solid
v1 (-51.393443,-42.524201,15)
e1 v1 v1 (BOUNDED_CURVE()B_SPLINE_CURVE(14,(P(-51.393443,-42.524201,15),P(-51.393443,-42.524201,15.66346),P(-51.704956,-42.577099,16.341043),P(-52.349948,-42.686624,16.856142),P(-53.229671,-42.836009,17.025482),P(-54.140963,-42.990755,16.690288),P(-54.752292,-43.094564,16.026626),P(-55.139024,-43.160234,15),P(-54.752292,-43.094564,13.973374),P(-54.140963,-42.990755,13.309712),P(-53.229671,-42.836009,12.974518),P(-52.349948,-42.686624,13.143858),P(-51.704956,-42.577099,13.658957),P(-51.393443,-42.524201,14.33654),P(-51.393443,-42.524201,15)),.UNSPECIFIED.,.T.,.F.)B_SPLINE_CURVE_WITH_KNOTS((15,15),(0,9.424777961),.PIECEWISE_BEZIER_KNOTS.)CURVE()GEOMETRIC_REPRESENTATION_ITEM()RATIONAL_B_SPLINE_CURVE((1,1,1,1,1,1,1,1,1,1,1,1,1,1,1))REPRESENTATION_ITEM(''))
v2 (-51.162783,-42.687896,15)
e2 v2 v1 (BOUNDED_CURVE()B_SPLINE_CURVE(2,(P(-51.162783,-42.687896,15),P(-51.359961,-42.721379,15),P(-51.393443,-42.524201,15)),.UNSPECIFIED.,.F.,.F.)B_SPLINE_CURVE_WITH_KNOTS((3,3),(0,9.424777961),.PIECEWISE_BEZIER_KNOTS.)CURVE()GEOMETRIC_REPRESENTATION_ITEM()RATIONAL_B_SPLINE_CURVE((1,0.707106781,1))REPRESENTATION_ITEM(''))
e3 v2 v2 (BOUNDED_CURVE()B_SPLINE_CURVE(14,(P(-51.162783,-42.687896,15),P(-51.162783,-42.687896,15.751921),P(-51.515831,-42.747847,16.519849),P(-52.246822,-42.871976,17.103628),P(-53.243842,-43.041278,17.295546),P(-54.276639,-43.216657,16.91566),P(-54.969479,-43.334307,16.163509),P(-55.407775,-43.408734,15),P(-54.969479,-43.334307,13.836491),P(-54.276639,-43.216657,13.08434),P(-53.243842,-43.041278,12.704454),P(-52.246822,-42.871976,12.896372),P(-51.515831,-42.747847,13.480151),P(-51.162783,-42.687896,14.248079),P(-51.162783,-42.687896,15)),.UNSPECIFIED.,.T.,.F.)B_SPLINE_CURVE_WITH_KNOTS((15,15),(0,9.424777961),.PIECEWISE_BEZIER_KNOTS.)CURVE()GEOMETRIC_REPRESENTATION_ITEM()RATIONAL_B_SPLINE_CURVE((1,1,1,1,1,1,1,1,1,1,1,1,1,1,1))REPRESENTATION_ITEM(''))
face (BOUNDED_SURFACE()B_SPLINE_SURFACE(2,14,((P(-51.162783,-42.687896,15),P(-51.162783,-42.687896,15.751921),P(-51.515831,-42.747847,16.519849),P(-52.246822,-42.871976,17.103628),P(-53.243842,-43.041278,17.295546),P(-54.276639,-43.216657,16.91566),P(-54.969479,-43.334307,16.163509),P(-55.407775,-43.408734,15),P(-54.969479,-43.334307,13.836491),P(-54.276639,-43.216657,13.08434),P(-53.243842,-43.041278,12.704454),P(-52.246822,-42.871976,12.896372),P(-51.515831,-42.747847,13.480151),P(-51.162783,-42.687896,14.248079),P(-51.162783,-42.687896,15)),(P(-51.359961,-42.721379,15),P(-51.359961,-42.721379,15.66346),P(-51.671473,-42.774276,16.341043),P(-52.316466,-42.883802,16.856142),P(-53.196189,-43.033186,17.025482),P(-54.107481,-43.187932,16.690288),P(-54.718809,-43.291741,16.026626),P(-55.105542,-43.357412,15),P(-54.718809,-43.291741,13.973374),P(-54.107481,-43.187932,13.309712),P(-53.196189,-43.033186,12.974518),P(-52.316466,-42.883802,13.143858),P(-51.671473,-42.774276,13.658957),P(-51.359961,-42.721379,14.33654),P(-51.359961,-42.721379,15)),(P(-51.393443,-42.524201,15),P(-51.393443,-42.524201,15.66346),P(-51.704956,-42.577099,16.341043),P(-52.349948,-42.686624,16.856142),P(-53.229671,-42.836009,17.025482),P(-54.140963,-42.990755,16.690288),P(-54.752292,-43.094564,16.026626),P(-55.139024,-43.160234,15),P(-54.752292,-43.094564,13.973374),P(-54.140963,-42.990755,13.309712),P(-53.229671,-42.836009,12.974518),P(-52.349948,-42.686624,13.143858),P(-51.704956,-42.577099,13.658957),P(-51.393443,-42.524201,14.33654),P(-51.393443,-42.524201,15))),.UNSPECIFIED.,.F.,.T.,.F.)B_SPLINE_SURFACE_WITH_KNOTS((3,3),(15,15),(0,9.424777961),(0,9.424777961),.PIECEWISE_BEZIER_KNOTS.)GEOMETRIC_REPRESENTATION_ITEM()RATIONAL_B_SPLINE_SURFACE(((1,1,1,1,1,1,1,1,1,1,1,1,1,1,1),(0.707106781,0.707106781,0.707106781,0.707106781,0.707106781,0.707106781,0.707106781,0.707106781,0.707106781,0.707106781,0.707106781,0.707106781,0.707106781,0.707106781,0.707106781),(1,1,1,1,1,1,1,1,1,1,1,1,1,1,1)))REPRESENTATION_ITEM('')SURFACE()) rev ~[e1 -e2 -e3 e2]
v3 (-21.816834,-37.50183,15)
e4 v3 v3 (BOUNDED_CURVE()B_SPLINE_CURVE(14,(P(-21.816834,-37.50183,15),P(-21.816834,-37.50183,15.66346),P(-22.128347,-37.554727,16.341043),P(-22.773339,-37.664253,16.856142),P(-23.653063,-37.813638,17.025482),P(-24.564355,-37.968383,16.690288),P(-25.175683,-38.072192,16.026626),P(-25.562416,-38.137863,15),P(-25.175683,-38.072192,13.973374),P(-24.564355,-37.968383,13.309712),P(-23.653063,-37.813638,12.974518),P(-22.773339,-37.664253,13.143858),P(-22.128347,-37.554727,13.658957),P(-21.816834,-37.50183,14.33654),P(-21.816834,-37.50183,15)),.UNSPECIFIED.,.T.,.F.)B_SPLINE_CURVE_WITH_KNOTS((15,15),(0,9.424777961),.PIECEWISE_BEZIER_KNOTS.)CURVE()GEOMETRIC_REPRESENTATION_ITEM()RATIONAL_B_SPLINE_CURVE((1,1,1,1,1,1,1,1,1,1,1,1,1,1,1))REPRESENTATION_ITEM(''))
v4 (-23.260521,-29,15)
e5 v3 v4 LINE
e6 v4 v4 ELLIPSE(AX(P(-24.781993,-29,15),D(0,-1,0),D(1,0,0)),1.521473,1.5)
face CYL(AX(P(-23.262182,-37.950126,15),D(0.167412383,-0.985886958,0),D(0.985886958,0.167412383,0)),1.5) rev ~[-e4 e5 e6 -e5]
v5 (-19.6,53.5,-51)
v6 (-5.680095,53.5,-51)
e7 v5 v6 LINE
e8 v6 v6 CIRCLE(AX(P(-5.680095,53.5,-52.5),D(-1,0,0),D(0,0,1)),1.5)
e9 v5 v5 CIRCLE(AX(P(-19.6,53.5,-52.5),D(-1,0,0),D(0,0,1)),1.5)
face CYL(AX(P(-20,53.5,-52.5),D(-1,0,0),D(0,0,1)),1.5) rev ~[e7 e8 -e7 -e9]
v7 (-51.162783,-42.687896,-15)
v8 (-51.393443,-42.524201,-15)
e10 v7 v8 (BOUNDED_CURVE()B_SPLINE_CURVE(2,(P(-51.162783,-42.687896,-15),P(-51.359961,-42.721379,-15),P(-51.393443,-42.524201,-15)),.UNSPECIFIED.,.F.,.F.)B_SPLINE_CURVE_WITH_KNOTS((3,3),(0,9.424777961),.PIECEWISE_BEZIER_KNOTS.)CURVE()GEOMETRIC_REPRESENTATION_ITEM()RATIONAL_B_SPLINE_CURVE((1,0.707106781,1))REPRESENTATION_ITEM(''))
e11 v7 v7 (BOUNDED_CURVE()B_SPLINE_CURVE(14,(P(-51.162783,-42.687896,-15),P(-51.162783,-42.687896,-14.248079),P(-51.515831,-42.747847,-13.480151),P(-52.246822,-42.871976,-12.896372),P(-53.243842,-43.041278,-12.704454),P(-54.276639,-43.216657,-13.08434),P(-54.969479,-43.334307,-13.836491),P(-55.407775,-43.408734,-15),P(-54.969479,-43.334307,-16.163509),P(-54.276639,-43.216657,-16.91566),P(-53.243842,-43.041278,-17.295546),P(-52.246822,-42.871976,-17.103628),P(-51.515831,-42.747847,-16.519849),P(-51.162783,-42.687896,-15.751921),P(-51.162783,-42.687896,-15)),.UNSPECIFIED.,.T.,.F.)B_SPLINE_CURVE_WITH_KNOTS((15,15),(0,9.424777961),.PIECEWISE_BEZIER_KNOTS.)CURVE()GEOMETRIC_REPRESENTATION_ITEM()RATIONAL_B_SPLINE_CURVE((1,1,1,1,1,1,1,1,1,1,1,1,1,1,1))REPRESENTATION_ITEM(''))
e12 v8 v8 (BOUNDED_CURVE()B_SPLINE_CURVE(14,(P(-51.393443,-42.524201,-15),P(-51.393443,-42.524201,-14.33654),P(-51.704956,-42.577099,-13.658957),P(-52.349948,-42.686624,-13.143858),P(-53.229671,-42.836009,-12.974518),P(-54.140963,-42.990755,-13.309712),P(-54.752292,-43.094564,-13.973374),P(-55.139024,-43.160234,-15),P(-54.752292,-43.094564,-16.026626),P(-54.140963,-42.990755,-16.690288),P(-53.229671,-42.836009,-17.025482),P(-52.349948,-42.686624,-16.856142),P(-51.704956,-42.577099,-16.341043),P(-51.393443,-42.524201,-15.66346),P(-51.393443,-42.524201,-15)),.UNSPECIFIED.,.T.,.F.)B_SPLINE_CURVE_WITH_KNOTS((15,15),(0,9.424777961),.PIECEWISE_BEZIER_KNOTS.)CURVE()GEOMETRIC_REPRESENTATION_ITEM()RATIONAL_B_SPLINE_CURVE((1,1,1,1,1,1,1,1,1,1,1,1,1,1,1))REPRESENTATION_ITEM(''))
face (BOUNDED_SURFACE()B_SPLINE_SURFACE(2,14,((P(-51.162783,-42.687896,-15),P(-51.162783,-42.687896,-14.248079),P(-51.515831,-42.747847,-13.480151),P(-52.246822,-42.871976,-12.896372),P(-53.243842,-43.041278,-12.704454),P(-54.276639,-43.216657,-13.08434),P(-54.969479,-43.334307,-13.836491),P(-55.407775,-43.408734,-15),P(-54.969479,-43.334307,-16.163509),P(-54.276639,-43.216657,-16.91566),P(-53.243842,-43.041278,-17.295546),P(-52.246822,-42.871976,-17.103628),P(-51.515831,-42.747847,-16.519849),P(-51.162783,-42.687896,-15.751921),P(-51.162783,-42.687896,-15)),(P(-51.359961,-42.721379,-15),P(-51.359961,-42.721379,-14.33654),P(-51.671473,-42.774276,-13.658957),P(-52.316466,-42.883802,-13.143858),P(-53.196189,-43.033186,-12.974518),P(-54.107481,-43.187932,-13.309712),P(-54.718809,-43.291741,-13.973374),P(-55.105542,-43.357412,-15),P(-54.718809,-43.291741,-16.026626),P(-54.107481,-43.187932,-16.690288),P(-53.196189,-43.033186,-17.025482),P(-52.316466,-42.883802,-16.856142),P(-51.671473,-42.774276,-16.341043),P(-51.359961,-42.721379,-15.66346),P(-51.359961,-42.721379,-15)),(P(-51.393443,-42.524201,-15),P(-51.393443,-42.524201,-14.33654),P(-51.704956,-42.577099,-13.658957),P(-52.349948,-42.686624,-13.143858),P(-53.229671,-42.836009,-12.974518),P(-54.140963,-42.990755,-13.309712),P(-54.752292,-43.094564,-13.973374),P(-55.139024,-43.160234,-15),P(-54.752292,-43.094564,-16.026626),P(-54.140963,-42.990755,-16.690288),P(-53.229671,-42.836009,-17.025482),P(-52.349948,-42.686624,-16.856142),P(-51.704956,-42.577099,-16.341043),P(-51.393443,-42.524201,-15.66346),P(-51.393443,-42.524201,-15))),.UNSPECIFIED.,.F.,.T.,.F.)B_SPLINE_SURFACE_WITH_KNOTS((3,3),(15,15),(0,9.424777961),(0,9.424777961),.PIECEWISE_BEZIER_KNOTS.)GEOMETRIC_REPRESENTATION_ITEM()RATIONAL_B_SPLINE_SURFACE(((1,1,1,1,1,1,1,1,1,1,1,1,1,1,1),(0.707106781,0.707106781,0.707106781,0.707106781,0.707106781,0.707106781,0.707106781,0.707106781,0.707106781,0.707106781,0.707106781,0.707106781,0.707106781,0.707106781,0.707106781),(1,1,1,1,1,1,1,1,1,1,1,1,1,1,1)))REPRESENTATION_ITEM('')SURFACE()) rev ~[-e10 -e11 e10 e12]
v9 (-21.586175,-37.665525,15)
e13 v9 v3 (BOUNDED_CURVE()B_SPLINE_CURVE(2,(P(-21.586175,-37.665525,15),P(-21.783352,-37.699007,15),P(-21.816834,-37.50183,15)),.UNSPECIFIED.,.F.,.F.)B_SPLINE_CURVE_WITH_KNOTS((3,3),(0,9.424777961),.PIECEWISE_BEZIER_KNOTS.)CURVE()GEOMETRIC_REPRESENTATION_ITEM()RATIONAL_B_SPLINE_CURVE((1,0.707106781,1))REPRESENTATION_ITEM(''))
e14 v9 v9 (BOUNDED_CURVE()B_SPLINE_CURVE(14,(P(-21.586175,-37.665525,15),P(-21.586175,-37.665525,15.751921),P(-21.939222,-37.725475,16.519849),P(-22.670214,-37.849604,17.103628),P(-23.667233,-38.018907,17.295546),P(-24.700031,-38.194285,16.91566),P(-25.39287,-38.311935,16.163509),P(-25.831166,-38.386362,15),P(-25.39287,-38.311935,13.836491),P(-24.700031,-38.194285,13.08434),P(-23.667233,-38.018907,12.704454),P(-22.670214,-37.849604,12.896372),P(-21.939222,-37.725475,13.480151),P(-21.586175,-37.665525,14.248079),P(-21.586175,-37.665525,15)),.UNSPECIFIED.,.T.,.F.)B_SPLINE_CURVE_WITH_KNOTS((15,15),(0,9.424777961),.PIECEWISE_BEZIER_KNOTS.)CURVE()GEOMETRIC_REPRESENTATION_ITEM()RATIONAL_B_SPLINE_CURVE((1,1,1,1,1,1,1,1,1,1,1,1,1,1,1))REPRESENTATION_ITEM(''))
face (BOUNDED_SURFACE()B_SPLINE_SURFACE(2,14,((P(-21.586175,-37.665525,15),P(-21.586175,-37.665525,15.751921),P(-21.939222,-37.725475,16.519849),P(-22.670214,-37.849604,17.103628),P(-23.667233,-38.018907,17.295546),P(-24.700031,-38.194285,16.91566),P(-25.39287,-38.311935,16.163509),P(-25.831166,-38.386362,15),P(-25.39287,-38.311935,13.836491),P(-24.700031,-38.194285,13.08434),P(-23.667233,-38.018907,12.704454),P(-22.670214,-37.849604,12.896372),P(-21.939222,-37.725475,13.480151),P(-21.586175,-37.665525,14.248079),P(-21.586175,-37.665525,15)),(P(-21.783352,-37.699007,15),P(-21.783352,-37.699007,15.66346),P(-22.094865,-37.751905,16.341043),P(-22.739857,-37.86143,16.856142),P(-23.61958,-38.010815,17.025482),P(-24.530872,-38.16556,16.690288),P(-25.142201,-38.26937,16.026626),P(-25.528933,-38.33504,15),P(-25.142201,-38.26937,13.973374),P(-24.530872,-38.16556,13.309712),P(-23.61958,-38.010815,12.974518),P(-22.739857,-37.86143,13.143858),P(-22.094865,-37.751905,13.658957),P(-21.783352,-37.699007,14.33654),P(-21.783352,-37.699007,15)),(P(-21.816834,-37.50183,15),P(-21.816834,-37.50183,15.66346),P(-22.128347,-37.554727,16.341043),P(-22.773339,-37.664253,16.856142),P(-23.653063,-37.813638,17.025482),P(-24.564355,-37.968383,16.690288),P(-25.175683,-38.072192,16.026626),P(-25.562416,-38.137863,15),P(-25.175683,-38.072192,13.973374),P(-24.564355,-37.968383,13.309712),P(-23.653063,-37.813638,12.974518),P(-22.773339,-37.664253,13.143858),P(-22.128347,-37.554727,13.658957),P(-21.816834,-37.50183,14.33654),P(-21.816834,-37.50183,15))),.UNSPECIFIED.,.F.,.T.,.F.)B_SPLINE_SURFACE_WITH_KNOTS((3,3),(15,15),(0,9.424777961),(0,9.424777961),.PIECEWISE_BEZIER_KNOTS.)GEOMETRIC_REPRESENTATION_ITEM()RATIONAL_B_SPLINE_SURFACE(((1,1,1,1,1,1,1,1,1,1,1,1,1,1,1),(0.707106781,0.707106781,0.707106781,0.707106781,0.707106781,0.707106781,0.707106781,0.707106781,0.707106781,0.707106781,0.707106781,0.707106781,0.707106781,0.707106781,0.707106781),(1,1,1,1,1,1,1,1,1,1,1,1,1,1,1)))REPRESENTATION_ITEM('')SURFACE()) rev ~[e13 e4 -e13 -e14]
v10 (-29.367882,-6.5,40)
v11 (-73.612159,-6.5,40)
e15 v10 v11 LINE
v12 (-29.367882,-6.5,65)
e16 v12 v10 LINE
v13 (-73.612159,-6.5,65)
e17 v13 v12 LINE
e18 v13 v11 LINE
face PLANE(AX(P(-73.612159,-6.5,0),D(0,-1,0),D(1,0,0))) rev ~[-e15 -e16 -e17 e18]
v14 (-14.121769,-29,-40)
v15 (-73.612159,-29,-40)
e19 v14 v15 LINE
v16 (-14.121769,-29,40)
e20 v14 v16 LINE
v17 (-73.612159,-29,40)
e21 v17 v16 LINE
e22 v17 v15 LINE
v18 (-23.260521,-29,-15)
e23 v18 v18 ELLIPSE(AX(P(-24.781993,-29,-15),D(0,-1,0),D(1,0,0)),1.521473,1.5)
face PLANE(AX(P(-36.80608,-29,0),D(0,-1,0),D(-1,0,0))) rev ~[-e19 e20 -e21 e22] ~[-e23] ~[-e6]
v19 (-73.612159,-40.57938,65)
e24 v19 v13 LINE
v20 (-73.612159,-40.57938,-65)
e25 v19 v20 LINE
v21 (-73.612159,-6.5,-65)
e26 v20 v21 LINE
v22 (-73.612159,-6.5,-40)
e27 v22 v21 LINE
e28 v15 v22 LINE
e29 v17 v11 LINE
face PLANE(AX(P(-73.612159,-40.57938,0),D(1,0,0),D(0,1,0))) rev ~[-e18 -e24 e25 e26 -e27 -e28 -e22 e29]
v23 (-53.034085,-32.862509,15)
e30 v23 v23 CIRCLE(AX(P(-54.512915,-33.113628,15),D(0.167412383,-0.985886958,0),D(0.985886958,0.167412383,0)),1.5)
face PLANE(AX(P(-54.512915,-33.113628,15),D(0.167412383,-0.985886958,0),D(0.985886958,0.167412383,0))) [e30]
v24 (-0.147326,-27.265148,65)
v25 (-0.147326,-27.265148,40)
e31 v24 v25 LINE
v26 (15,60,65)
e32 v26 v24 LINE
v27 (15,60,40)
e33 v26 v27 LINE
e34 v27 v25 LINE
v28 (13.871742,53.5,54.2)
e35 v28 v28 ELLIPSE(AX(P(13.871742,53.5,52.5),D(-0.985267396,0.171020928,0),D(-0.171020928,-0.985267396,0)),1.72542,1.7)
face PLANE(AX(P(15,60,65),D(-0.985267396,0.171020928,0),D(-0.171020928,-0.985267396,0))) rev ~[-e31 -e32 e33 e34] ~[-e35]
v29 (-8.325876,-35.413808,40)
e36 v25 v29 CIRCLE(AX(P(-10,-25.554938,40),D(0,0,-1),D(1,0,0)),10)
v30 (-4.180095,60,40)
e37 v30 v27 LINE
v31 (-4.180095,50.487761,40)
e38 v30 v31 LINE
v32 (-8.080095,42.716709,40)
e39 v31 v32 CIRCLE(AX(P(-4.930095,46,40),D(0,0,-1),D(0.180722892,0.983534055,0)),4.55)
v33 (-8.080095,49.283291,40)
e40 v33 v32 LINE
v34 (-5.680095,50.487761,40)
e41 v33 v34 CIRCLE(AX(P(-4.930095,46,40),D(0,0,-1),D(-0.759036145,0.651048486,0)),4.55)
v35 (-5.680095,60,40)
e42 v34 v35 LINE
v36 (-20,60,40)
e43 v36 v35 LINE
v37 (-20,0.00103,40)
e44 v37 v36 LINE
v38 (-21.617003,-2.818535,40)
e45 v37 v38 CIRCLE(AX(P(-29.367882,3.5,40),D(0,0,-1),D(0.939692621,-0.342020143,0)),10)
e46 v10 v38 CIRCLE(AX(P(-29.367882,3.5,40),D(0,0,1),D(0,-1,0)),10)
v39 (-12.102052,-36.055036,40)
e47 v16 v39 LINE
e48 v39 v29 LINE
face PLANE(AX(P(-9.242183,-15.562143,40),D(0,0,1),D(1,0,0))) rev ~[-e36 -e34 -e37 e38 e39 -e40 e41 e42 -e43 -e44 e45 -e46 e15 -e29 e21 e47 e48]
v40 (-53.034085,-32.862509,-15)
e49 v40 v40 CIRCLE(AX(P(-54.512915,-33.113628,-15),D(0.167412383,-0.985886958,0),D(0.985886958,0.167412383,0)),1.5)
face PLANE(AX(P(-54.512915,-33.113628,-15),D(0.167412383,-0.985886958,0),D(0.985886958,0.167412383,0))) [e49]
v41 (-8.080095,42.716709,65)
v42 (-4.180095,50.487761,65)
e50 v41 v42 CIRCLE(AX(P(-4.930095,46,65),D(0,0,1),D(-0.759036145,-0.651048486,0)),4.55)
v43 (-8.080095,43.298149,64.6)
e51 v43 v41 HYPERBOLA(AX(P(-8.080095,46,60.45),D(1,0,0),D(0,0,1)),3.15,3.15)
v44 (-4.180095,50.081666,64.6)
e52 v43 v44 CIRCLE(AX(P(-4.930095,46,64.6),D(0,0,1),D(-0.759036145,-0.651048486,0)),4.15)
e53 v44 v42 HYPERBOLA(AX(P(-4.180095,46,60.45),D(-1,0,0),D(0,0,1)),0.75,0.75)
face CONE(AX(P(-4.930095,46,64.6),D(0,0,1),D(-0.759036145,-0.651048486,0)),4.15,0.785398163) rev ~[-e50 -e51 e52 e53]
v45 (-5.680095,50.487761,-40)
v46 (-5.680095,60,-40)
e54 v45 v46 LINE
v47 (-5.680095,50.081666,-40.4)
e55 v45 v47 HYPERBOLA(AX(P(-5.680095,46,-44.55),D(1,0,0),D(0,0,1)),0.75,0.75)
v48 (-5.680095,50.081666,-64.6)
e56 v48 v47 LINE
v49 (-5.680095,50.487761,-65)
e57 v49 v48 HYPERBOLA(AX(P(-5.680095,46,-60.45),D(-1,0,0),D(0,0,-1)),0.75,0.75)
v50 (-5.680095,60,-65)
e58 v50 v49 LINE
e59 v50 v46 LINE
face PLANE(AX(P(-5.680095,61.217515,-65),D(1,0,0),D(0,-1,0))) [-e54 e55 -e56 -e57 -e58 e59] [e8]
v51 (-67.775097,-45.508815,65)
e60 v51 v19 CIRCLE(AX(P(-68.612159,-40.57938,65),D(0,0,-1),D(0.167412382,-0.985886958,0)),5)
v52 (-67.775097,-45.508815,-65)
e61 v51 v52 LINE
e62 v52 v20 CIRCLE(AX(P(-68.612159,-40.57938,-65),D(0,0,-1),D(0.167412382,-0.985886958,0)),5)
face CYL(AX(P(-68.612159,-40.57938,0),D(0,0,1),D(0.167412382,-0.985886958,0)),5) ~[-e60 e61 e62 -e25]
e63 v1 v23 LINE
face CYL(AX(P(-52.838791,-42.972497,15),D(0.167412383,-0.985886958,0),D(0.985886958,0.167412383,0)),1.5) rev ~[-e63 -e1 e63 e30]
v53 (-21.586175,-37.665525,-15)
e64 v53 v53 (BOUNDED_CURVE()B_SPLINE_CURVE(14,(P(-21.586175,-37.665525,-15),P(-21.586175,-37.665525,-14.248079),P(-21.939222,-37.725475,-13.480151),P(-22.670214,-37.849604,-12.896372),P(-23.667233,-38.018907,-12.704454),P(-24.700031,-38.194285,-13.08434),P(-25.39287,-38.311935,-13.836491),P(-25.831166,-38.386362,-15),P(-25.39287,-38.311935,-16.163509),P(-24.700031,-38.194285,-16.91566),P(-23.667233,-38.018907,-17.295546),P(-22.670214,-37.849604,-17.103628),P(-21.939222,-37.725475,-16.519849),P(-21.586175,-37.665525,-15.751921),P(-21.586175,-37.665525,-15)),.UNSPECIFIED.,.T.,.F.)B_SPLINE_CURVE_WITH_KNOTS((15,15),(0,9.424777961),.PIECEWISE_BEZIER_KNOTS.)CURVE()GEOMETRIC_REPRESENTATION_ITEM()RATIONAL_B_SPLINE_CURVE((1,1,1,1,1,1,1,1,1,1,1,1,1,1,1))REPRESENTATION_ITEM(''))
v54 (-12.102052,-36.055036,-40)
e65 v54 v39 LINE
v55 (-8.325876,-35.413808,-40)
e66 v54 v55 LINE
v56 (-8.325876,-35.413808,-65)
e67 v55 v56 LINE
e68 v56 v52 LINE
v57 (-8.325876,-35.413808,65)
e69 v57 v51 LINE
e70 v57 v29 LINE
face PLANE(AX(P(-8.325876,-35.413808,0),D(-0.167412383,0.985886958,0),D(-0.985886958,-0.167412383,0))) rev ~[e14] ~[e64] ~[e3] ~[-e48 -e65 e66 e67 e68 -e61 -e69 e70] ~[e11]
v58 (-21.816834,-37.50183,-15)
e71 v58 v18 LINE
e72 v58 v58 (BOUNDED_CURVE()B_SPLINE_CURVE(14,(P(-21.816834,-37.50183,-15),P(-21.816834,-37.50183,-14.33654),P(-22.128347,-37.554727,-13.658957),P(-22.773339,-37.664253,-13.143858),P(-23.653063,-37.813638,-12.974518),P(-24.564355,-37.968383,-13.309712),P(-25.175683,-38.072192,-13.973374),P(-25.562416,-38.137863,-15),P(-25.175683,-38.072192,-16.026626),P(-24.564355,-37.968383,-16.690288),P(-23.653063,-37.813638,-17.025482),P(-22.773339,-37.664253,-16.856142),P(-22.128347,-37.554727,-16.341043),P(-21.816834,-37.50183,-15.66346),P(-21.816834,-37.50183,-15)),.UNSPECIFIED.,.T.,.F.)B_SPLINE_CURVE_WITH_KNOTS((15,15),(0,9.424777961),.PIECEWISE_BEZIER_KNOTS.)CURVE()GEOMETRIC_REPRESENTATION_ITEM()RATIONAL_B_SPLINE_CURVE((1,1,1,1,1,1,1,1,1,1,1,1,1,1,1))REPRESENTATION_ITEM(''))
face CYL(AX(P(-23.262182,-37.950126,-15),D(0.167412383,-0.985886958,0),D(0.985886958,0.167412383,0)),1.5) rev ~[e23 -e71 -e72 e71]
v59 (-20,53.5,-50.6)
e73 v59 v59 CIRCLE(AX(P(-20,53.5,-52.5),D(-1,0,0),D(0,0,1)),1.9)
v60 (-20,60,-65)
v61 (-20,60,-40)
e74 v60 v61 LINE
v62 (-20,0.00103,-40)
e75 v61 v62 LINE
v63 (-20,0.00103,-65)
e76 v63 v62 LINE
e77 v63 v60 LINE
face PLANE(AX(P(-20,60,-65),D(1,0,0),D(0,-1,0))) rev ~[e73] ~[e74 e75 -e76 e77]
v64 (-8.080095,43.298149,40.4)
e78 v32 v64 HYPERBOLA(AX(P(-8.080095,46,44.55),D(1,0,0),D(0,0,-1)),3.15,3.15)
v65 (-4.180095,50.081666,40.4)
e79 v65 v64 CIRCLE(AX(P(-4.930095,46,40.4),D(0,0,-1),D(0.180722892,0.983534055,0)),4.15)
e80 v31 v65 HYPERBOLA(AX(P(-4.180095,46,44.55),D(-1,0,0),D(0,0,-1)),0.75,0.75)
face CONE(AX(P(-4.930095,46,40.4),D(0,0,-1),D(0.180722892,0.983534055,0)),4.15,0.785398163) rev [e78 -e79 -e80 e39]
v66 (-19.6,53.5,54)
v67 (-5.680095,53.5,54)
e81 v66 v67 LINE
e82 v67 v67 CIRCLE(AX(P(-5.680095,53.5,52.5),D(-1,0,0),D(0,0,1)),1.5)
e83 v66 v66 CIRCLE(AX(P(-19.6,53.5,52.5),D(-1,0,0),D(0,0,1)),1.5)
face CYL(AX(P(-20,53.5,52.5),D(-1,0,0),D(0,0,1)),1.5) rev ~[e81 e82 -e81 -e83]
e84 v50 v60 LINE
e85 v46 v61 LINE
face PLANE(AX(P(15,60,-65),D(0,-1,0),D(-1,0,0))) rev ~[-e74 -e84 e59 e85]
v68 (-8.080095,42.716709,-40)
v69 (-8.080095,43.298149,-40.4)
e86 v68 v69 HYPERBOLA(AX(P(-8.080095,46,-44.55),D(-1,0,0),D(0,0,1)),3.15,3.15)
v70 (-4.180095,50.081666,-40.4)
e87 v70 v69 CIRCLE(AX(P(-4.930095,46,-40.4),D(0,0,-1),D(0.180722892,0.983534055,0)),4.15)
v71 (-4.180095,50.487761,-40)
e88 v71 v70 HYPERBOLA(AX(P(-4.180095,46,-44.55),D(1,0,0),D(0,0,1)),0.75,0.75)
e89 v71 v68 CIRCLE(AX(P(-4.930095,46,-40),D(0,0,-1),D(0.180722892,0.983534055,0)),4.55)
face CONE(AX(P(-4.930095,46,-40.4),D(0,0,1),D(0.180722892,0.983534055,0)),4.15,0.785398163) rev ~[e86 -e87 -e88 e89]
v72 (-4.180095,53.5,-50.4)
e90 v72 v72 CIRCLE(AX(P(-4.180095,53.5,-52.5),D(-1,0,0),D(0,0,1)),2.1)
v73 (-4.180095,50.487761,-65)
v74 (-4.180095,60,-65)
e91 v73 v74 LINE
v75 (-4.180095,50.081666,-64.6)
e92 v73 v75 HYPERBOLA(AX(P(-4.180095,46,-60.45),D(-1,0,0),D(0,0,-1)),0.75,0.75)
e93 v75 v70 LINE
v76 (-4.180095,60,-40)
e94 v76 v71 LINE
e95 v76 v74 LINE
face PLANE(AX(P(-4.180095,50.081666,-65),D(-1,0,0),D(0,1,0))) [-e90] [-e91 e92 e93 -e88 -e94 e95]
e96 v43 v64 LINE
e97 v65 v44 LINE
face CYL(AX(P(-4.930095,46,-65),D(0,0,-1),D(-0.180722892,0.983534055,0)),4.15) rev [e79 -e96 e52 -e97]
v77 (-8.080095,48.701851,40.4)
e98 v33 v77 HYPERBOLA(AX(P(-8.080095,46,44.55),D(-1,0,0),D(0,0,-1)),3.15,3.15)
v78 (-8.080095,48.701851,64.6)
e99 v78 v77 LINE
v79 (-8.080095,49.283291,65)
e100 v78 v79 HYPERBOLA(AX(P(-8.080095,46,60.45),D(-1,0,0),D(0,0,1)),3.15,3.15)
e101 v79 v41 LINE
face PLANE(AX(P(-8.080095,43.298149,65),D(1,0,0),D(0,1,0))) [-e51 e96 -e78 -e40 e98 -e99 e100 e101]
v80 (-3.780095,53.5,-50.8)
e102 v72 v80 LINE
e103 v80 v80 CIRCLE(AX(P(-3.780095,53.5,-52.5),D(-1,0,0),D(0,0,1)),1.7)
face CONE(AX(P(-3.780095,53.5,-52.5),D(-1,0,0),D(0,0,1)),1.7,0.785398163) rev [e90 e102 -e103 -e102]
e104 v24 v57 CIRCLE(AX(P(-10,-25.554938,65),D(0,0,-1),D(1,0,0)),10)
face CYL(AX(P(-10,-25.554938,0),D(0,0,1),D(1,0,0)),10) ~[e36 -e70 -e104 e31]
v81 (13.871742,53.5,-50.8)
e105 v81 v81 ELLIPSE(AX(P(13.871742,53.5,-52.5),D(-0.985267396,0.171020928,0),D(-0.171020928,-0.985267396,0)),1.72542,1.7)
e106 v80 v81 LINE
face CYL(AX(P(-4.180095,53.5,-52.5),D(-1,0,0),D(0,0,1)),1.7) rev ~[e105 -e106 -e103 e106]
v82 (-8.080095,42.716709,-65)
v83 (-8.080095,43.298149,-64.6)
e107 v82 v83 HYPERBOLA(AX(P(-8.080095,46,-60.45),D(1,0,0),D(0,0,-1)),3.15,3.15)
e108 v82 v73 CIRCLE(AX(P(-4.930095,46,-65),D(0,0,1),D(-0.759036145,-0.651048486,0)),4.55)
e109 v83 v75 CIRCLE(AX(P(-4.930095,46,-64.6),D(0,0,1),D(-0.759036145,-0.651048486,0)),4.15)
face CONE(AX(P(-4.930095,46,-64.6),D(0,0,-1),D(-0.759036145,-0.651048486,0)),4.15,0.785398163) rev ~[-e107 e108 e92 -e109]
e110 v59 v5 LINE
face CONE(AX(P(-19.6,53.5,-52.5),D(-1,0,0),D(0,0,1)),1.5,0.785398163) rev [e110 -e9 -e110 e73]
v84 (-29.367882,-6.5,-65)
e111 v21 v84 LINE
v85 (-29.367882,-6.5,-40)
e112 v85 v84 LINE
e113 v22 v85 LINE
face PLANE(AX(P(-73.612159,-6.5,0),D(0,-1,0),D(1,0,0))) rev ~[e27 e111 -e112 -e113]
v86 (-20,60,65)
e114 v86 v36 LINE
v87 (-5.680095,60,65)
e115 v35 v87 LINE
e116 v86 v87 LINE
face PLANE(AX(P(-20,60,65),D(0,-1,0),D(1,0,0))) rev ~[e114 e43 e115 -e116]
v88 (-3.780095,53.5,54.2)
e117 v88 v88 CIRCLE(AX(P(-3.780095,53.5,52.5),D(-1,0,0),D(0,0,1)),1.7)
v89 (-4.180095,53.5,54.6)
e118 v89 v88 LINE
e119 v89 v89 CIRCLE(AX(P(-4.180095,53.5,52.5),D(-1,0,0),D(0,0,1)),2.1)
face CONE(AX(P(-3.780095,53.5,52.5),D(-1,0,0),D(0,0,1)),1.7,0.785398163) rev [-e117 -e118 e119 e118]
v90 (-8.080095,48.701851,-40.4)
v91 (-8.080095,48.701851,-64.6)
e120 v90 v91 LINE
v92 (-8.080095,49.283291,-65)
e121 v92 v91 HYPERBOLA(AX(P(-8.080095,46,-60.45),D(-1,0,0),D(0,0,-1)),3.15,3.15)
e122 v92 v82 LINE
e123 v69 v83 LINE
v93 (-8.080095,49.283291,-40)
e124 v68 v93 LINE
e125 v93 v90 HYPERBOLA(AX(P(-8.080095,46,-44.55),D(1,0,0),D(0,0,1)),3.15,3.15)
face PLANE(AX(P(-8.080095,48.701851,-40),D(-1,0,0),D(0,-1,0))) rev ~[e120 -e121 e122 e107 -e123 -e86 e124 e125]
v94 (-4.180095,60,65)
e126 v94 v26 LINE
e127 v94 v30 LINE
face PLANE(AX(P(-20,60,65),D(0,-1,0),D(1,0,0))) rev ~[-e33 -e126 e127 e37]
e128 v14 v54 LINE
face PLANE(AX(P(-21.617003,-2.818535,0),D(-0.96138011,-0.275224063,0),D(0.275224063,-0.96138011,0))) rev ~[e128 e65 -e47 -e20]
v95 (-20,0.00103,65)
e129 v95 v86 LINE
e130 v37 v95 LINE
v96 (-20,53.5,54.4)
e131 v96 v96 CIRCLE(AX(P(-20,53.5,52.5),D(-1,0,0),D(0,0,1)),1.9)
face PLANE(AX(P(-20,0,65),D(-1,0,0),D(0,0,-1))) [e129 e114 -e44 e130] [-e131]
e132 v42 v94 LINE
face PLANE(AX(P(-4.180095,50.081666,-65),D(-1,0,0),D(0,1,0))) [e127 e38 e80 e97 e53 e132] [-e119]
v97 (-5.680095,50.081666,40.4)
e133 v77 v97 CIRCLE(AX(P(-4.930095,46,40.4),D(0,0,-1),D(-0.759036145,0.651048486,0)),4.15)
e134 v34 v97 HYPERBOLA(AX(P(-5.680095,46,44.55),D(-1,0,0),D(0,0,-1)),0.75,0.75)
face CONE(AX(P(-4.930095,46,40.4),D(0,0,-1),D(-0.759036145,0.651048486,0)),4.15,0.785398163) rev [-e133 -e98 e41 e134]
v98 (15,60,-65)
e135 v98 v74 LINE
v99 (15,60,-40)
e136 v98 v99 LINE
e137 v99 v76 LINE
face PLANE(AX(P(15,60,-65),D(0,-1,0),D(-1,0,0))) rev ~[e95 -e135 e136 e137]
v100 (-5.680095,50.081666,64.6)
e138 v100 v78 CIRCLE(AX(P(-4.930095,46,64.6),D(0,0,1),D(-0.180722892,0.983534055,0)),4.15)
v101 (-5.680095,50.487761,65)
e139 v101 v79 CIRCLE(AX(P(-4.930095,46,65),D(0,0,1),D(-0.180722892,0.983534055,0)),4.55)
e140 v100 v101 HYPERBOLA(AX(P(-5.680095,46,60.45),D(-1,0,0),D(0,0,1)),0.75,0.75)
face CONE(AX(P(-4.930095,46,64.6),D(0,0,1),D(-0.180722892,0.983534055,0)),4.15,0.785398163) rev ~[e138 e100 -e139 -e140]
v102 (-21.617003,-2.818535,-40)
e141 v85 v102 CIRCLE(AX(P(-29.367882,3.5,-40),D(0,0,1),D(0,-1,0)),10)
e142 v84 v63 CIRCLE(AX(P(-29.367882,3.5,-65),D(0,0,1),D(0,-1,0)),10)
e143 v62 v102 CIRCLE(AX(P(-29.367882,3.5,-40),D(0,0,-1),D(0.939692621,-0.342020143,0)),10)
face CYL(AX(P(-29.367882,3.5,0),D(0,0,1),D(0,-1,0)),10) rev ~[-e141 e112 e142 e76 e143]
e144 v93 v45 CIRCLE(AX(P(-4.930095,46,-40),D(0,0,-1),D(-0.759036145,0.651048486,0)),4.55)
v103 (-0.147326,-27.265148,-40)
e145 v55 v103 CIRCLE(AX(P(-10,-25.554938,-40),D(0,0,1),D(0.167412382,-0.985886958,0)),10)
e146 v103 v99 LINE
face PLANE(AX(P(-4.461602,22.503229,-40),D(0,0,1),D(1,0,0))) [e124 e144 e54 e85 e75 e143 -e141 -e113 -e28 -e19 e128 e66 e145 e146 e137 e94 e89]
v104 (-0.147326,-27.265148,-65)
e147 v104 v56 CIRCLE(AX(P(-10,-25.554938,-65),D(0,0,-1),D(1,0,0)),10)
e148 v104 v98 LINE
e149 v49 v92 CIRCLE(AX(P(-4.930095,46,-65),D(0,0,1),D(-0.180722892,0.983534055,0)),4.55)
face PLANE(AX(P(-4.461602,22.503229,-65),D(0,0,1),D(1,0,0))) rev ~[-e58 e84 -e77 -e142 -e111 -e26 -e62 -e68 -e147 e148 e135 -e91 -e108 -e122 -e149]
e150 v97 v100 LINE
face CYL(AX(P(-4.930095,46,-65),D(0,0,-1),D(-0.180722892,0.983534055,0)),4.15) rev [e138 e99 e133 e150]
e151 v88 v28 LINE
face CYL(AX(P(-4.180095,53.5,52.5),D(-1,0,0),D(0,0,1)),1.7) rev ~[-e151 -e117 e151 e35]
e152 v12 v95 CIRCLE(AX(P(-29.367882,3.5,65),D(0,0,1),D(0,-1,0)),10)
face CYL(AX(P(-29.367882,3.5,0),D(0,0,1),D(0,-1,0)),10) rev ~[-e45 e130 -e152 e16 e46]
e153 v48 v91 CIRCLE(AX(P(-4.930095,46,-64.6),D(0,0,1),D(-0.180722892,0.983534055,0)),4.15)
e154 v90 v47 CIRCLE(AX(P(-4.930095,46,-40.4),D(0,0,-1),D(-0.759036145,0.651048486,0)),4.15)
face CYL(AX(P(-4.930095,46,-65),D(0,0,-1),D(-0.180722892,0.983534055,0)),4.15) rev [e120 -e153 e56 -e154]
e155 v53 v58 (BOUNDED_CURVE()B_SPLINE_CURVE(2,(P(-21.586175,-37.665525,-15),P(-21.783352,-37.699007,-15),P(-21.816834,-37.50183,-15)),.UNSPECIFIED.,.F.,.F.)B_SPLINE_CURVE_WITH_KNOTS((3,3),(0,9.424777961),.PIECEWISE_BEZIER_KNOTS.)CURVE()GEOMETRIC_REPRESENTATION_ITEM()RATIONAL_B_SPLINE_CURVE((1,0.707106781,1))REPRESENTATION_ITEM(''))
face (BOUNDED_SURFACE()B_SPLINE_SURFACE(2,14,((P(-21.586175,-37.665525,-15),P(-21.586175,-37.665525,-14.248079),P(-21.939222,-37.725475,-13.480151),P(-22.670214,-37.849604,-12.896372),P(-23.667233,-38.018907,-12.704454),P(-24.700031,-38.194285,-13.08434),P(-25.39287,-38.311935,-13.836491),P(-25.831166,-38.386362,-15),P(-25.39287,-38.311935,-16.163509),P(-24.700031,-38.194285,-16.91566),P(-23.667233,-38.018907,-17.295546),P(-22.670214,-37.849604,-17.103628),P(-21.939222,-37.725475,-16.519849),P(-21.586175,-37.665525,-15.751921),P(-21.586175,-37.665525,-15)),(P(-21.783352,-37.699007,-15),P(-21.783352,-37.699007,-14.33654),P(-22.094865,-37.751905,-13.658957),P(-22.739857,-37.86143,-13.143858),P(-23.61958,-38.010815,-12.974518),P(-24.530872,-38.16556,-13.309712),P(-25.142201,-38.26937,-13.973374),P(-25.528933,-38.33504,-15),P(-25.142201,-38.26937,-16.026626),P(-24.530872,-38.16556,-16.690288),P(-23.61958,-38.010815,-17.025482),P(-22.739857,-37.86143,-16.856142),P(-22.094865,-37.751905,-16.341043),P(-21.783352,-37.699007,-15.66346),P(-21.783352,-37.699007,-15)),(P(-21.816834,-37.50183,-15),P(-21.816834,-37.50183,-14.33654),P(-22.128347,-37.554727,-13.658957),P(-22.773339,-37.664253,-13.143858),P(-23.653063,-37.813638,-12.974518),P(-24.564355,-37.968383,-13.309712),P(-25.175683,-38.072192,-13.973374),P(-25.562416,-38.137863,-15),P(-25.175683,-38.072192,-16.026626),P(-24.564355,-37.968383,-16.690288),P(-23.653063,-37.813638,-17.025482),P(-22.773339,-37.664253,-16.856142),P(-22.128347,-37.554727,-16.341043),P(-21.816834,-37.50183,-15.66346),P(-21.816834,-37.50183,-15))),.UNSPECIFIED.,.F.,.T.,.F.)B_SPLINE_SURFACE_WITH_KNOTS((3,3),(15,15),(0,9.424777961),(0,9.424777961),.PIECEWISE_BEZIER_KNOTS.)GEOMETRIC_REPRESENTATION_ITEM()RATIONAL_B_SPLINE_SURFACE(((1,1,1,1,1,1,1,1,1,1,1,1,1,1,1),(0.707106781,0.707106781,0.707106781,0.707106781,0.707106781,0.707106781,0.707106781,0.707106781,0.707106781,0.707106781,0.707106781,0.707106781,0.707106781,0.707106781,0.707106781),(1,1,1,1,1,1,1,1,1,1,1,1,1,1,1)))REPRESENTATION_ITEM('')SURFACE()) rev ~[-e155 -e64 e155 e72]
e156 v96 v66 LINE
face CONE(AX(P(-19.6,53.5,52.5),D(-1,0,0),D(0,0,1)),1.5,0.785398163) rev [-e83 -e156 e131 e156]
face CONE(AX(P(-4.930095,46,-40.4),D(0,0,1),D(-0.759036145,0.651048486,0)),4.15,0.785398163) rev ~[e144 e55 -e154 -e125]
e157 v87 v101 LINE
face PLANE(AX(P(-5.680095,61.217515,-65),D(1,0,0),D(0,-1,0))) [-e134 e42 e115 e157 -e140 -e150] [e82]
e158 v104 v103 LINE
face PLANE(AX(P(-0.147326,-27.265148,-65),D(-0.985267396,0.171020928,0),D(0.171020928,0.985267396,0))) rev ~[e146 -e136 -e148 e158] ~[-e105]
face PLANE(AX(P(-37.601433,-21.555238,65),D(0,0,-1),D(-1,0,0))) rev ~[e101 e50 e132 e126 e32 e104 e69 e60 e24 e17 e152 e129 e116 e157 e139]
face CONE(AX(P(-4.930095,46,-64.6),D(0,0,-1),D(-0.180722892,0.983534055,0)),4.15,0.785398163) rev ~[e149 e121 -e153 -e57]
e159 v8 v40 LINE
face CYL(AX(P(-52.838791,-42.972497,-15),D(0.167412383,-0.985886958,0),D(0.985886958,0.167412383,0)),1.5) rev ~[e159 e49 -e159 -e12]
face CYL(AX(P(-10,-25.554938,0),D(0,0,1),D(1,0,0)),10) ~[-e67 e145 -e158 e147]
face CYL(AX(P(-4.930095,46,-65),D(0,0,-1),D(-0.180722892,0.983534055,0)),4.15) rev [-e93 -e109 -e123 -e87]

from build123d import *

# Parameters (mm, degrees)
BOSS_EXTRUDE1_DEPTH = 65
CUT_EXTRUDE1_DEPTH  = 40
CUT_EXTRUDE4_DEPTH  = 22.5
SKETCH11_W          = 20
SKETCH11_H          = 25
BOSS_EXTRUDE2_DEPTH = 10
BOSS_EXTRUDE6_DEPTH = 25
BOSS_EXTRUDE7_DEPTH = 25
CUT_EXTRUDE16_DEPTH = 130
SKETCH27_R          = 1.5
CUT_EXTRUDE17_DEPTH = 50
SKETCH28_R          = 1.7
CUT_EXTRUDE18_DEPTH = 50
BOSS_EXTRUDE8_DEPTH = 25
BOSS_EXTRUDE9_DEPTH = 25
CHAMFER9_SIZE       = 0.4
SKETCH31_R          = 1.5
CUT_EXTRUDE19_DEPTH = 10
FILLET1_R           = 0.2


with BuildPart() as part:
    # Sketch1 → Boss-Extrude1 (new body, symmetric)
    with BuildSketch(Plane.XY):
        with BuildLine():
            Line((0, 0), (0, -25.554938316))
            ThreePointArc((0, -25.554938316), (-2.359933303, -32.007021768), (-8.325876175, -35.413807897))
            Line((-8.325876175, -35.413807897), (-67.775097409, -45.508814922))
            ThreePointArc((-67.775097409, -45.508814922), (-71.838201048, -44.399413479), (-73.612159322, -40.579380131))
            Line((-73.612159322, -40.579380131), (-73.612159322, -6.5))
            Line((-73.612159322, -6.5), (-29.367881905, -6.5))
            ThreePointArc((-29.367881905, -6.5), (-23.632117541, -4.691520443), (-19.970955697, 0.079798567))
            Line((-19.970955697, 0.079798567), (-20, 0))
            Line((-20, 0), (0, 0))
        make_face()
    extrude(amount=BOSS_EXTRUDE1_DEPTH, both=True)

    # Sketch2 → Cut-Extrude1 (cut, symmetric)
    with BuildSketch(Plane.XY):
        with BuildLine():
            Line((-20, 0), (-19.970955697, 0.079798567))
            ThreePointArc((-19.970955697, 0.079798567), (-20.672372291, -1.438432196), (-21.617003148, -2.818534521))
            Line((-21.617003148, -2.818534521), (-12.102051753, -36.055036129))
            Line((-12.102051753, -36.055036129), (-8.325876175, -35.413807897))
            ThreePointArc((-8.325876175, -35.413807897), (-2.359933303, -32.007021768), (0, -25.554938316))
            Line((0, -25.554938316), (0, 0))
            Line((0, 0), (-20, 0))
        make_face()
    extrude(amount=CUT_EXTRUDE1_DEPTH, both=True, mode=Mode.SUBTRACT)

    # Sketch5 → Cut-Extrude4 (cut, symmetric)
    with BuildSketch(Plane(origin=(0, -6.5, 0), x_dir=(1, 0, 0), z_dir=(0, 1, 0))):
        Polygon((-73.612159322, 40), (-29.401702386, 40), (0, 40), (0, -40), (-29.367881905, -40), (-73.612159322, -40), align=None)
    extrude(amount=CUT_EXTRUDE4_DEPTH, both=True, mode=Mode.SUBTRACT)

    # Sketch11 → Boss-Extrude2 (add)
    with BuildSketch(Plane(origin=(0, 0, 0), x_dir=(1, 0, 0), z_dir=(0, 1, 0))):
        with Locations((-10, 52.5)):
            Rectangle(SKETCH11_W, SKETCH11_H)
        with Locations((-10, -52.5)):
            Rectangle(SKETCH11_W, SKETCH11_H)
    extrude(amount=BOSS_EXTRUDE2_DEPTH)

    # Sketch24 → Boss-Extrude6 (add)
    with BuildSketch(Plane(origin=(0, 0, -65), x_dir=(-1, 0, 0), z_dir=(0, 0, -1))):
        Polygon((0.147326036, -27.265147592), (-15, 60), (20, 60), (20, 0.001030349), align=None)
    extrude(amount=-BOSS_EXTRUDE6_DEPTH)

    # Sketch25 → Boss-Extrude7 (add)
    with BuildSketch(Plane.XY.offset(65)):
        Polygon((-0.147326036, -27.265147592), (-20, 0.001030349), (-20, 60), (15, 60), align=None)
    extrude(amount=-BOSS_EXTRUDE7_DEPTH)

    # Sketch26 → Cut-Extrude16 (cut)
    with BuildSketch(Plane(origin=(0, 0, -65), x_dir=(-1, 0, 0), z_dir=(0, 0, -1))):
        with BuildLine():
            Line((4.180094607, 50.081666326), (4.180094607, 61.21751544))
            Line((4.180094607, 61.21751544), (5.680094607, 61.21751544))
            Line((5.680094607, 61.21751544), (5.680094607, 50.081666326))
            ThreePointArc((5.680094607, 50.081666326), (4.930094607, 41.85), (4.180094607, 50.081666326))
        make_face()
    extrude(amount=-CUT_EXTRUDE16_DEPTH, mode=Mode.SUBTRACT)

    # Sketch27 → Cut-Extrude17 (cut)
    with BuildSketch(Plane.ZY.offset(20)):
        with Locations((-52.5, 53.5)):
            Circle(SKETCH27_R)
        with Locations((52.5, 53.5)):
            Circle(SKETCH27_R)
    extrude(amount=-CUT_EXTRUDE17_DEPTH, mode=Mode.SUBTRACT)

    # Sketch28 → Cut-Extrude18 (cut)
    with BuildSketch(Plane.ZY.offset(4.180094607)):
        with Locations((52.5, 53.5)):
            Circle(SKETCH28_R)
        with Locations((-52.5, 53.5)):
            Circle(SKETCH28_R)
    extrude(amount=-CUT_EXTRUDE18_DEPTH, mode=Mode.SUBTRACT)

    # Sketch29 → Boss-Extrude8 (add)
    with BuildSketch(Plane.XY.offset(65)):
        with BuildLine():
            Line((-8.080094607, 43.298148783), (-8.080094607, 48.701851217))
            ThreePointArc((-8.080094607, 48.701851217), (-9.080094607, 46), (-8.080094607, 43.298148783))
        make_face()
    extrude(amount=-BOSS_EXTRUDE8_DEPTH)

    # Sketch30 → Boss-Extrude9 (add)
    with BuildSketch(Plane.XY.offset(-40)):
        with BuildLine():
            Line((-8.080094607, 48.701851217), (-8.080094607, 43.298148783))
            ThreePointArc((-8.080094607, 43.298148783), (-9.080094607, 46), (-8.080094607, 48.701851217))
        make_face()
    extrude(amount=-BOSS_EXTRUDE9_DEPTH)

    # Chamfer9
    chamfer9_edges = [part.edges().sort_by_distance(p)[0] for p in [
        (-6.998541472, 49.597780922, 40),
        (-6.998541472, 49.597780922, -40),
        (-1.332313684, 43.931553135, -65),
        (-6.998541472, 49.597780922, 65),
        (-20, 53.5, -54),
        (-20, 53.5, 51),
        (-4.180094607, 53.5, 50.8),
        (-4.180094607, 53.5, -54.2),
        (-1.332313684, 43.931553135, 65),
        (-1.332313684, 43.931553135, 40),
        (-1.332313684, 43.931553135, -40),
        (-6.998541472, 49.597780922, -65),
    ]]
    chamfer(chamfer9_edges, length=CHAMFER9_SIZE)

    # Sketch31 → Cut-Extrude19 (cut)
    with BuildSketch(Plane(origin=(5.611689276, -33.047085202, 0), x_dir=(0.985886958, 0.167412383, 0), z_dir=(0.167412383, -0.985886958, 0))):
        with Locations((-29.287203222, 15)):
            Circle(SKETCH31_R)
        with Locations((-29.287203222, -15)):
            Circle(SKETCH31_R)
        with Locations((-59.287203222, -15)):
            Circle(SKETCH31_R)
        with Locations((-59.287203222, 15)):
            Circle(SKETCH31_R)
    extrude(amount=-CUT_EXTRUDE19_DEPTH, mode=Mode.SUBTRACT)

    # Fillet1
    fillet1_edges = [part.edges().sort_by_distance(p)[0] for p in [
        (-54.317621601, -43.223615721, 15),
        (-54.317621601, -43.223615721, -15),
        (-24.741012857, -38.201244245, -15),
        (-24.741012857, -38.201244245, 15),
    ]]
    fillet(fillet1_edges, radius=FILLET1_R)


solid = part.part
